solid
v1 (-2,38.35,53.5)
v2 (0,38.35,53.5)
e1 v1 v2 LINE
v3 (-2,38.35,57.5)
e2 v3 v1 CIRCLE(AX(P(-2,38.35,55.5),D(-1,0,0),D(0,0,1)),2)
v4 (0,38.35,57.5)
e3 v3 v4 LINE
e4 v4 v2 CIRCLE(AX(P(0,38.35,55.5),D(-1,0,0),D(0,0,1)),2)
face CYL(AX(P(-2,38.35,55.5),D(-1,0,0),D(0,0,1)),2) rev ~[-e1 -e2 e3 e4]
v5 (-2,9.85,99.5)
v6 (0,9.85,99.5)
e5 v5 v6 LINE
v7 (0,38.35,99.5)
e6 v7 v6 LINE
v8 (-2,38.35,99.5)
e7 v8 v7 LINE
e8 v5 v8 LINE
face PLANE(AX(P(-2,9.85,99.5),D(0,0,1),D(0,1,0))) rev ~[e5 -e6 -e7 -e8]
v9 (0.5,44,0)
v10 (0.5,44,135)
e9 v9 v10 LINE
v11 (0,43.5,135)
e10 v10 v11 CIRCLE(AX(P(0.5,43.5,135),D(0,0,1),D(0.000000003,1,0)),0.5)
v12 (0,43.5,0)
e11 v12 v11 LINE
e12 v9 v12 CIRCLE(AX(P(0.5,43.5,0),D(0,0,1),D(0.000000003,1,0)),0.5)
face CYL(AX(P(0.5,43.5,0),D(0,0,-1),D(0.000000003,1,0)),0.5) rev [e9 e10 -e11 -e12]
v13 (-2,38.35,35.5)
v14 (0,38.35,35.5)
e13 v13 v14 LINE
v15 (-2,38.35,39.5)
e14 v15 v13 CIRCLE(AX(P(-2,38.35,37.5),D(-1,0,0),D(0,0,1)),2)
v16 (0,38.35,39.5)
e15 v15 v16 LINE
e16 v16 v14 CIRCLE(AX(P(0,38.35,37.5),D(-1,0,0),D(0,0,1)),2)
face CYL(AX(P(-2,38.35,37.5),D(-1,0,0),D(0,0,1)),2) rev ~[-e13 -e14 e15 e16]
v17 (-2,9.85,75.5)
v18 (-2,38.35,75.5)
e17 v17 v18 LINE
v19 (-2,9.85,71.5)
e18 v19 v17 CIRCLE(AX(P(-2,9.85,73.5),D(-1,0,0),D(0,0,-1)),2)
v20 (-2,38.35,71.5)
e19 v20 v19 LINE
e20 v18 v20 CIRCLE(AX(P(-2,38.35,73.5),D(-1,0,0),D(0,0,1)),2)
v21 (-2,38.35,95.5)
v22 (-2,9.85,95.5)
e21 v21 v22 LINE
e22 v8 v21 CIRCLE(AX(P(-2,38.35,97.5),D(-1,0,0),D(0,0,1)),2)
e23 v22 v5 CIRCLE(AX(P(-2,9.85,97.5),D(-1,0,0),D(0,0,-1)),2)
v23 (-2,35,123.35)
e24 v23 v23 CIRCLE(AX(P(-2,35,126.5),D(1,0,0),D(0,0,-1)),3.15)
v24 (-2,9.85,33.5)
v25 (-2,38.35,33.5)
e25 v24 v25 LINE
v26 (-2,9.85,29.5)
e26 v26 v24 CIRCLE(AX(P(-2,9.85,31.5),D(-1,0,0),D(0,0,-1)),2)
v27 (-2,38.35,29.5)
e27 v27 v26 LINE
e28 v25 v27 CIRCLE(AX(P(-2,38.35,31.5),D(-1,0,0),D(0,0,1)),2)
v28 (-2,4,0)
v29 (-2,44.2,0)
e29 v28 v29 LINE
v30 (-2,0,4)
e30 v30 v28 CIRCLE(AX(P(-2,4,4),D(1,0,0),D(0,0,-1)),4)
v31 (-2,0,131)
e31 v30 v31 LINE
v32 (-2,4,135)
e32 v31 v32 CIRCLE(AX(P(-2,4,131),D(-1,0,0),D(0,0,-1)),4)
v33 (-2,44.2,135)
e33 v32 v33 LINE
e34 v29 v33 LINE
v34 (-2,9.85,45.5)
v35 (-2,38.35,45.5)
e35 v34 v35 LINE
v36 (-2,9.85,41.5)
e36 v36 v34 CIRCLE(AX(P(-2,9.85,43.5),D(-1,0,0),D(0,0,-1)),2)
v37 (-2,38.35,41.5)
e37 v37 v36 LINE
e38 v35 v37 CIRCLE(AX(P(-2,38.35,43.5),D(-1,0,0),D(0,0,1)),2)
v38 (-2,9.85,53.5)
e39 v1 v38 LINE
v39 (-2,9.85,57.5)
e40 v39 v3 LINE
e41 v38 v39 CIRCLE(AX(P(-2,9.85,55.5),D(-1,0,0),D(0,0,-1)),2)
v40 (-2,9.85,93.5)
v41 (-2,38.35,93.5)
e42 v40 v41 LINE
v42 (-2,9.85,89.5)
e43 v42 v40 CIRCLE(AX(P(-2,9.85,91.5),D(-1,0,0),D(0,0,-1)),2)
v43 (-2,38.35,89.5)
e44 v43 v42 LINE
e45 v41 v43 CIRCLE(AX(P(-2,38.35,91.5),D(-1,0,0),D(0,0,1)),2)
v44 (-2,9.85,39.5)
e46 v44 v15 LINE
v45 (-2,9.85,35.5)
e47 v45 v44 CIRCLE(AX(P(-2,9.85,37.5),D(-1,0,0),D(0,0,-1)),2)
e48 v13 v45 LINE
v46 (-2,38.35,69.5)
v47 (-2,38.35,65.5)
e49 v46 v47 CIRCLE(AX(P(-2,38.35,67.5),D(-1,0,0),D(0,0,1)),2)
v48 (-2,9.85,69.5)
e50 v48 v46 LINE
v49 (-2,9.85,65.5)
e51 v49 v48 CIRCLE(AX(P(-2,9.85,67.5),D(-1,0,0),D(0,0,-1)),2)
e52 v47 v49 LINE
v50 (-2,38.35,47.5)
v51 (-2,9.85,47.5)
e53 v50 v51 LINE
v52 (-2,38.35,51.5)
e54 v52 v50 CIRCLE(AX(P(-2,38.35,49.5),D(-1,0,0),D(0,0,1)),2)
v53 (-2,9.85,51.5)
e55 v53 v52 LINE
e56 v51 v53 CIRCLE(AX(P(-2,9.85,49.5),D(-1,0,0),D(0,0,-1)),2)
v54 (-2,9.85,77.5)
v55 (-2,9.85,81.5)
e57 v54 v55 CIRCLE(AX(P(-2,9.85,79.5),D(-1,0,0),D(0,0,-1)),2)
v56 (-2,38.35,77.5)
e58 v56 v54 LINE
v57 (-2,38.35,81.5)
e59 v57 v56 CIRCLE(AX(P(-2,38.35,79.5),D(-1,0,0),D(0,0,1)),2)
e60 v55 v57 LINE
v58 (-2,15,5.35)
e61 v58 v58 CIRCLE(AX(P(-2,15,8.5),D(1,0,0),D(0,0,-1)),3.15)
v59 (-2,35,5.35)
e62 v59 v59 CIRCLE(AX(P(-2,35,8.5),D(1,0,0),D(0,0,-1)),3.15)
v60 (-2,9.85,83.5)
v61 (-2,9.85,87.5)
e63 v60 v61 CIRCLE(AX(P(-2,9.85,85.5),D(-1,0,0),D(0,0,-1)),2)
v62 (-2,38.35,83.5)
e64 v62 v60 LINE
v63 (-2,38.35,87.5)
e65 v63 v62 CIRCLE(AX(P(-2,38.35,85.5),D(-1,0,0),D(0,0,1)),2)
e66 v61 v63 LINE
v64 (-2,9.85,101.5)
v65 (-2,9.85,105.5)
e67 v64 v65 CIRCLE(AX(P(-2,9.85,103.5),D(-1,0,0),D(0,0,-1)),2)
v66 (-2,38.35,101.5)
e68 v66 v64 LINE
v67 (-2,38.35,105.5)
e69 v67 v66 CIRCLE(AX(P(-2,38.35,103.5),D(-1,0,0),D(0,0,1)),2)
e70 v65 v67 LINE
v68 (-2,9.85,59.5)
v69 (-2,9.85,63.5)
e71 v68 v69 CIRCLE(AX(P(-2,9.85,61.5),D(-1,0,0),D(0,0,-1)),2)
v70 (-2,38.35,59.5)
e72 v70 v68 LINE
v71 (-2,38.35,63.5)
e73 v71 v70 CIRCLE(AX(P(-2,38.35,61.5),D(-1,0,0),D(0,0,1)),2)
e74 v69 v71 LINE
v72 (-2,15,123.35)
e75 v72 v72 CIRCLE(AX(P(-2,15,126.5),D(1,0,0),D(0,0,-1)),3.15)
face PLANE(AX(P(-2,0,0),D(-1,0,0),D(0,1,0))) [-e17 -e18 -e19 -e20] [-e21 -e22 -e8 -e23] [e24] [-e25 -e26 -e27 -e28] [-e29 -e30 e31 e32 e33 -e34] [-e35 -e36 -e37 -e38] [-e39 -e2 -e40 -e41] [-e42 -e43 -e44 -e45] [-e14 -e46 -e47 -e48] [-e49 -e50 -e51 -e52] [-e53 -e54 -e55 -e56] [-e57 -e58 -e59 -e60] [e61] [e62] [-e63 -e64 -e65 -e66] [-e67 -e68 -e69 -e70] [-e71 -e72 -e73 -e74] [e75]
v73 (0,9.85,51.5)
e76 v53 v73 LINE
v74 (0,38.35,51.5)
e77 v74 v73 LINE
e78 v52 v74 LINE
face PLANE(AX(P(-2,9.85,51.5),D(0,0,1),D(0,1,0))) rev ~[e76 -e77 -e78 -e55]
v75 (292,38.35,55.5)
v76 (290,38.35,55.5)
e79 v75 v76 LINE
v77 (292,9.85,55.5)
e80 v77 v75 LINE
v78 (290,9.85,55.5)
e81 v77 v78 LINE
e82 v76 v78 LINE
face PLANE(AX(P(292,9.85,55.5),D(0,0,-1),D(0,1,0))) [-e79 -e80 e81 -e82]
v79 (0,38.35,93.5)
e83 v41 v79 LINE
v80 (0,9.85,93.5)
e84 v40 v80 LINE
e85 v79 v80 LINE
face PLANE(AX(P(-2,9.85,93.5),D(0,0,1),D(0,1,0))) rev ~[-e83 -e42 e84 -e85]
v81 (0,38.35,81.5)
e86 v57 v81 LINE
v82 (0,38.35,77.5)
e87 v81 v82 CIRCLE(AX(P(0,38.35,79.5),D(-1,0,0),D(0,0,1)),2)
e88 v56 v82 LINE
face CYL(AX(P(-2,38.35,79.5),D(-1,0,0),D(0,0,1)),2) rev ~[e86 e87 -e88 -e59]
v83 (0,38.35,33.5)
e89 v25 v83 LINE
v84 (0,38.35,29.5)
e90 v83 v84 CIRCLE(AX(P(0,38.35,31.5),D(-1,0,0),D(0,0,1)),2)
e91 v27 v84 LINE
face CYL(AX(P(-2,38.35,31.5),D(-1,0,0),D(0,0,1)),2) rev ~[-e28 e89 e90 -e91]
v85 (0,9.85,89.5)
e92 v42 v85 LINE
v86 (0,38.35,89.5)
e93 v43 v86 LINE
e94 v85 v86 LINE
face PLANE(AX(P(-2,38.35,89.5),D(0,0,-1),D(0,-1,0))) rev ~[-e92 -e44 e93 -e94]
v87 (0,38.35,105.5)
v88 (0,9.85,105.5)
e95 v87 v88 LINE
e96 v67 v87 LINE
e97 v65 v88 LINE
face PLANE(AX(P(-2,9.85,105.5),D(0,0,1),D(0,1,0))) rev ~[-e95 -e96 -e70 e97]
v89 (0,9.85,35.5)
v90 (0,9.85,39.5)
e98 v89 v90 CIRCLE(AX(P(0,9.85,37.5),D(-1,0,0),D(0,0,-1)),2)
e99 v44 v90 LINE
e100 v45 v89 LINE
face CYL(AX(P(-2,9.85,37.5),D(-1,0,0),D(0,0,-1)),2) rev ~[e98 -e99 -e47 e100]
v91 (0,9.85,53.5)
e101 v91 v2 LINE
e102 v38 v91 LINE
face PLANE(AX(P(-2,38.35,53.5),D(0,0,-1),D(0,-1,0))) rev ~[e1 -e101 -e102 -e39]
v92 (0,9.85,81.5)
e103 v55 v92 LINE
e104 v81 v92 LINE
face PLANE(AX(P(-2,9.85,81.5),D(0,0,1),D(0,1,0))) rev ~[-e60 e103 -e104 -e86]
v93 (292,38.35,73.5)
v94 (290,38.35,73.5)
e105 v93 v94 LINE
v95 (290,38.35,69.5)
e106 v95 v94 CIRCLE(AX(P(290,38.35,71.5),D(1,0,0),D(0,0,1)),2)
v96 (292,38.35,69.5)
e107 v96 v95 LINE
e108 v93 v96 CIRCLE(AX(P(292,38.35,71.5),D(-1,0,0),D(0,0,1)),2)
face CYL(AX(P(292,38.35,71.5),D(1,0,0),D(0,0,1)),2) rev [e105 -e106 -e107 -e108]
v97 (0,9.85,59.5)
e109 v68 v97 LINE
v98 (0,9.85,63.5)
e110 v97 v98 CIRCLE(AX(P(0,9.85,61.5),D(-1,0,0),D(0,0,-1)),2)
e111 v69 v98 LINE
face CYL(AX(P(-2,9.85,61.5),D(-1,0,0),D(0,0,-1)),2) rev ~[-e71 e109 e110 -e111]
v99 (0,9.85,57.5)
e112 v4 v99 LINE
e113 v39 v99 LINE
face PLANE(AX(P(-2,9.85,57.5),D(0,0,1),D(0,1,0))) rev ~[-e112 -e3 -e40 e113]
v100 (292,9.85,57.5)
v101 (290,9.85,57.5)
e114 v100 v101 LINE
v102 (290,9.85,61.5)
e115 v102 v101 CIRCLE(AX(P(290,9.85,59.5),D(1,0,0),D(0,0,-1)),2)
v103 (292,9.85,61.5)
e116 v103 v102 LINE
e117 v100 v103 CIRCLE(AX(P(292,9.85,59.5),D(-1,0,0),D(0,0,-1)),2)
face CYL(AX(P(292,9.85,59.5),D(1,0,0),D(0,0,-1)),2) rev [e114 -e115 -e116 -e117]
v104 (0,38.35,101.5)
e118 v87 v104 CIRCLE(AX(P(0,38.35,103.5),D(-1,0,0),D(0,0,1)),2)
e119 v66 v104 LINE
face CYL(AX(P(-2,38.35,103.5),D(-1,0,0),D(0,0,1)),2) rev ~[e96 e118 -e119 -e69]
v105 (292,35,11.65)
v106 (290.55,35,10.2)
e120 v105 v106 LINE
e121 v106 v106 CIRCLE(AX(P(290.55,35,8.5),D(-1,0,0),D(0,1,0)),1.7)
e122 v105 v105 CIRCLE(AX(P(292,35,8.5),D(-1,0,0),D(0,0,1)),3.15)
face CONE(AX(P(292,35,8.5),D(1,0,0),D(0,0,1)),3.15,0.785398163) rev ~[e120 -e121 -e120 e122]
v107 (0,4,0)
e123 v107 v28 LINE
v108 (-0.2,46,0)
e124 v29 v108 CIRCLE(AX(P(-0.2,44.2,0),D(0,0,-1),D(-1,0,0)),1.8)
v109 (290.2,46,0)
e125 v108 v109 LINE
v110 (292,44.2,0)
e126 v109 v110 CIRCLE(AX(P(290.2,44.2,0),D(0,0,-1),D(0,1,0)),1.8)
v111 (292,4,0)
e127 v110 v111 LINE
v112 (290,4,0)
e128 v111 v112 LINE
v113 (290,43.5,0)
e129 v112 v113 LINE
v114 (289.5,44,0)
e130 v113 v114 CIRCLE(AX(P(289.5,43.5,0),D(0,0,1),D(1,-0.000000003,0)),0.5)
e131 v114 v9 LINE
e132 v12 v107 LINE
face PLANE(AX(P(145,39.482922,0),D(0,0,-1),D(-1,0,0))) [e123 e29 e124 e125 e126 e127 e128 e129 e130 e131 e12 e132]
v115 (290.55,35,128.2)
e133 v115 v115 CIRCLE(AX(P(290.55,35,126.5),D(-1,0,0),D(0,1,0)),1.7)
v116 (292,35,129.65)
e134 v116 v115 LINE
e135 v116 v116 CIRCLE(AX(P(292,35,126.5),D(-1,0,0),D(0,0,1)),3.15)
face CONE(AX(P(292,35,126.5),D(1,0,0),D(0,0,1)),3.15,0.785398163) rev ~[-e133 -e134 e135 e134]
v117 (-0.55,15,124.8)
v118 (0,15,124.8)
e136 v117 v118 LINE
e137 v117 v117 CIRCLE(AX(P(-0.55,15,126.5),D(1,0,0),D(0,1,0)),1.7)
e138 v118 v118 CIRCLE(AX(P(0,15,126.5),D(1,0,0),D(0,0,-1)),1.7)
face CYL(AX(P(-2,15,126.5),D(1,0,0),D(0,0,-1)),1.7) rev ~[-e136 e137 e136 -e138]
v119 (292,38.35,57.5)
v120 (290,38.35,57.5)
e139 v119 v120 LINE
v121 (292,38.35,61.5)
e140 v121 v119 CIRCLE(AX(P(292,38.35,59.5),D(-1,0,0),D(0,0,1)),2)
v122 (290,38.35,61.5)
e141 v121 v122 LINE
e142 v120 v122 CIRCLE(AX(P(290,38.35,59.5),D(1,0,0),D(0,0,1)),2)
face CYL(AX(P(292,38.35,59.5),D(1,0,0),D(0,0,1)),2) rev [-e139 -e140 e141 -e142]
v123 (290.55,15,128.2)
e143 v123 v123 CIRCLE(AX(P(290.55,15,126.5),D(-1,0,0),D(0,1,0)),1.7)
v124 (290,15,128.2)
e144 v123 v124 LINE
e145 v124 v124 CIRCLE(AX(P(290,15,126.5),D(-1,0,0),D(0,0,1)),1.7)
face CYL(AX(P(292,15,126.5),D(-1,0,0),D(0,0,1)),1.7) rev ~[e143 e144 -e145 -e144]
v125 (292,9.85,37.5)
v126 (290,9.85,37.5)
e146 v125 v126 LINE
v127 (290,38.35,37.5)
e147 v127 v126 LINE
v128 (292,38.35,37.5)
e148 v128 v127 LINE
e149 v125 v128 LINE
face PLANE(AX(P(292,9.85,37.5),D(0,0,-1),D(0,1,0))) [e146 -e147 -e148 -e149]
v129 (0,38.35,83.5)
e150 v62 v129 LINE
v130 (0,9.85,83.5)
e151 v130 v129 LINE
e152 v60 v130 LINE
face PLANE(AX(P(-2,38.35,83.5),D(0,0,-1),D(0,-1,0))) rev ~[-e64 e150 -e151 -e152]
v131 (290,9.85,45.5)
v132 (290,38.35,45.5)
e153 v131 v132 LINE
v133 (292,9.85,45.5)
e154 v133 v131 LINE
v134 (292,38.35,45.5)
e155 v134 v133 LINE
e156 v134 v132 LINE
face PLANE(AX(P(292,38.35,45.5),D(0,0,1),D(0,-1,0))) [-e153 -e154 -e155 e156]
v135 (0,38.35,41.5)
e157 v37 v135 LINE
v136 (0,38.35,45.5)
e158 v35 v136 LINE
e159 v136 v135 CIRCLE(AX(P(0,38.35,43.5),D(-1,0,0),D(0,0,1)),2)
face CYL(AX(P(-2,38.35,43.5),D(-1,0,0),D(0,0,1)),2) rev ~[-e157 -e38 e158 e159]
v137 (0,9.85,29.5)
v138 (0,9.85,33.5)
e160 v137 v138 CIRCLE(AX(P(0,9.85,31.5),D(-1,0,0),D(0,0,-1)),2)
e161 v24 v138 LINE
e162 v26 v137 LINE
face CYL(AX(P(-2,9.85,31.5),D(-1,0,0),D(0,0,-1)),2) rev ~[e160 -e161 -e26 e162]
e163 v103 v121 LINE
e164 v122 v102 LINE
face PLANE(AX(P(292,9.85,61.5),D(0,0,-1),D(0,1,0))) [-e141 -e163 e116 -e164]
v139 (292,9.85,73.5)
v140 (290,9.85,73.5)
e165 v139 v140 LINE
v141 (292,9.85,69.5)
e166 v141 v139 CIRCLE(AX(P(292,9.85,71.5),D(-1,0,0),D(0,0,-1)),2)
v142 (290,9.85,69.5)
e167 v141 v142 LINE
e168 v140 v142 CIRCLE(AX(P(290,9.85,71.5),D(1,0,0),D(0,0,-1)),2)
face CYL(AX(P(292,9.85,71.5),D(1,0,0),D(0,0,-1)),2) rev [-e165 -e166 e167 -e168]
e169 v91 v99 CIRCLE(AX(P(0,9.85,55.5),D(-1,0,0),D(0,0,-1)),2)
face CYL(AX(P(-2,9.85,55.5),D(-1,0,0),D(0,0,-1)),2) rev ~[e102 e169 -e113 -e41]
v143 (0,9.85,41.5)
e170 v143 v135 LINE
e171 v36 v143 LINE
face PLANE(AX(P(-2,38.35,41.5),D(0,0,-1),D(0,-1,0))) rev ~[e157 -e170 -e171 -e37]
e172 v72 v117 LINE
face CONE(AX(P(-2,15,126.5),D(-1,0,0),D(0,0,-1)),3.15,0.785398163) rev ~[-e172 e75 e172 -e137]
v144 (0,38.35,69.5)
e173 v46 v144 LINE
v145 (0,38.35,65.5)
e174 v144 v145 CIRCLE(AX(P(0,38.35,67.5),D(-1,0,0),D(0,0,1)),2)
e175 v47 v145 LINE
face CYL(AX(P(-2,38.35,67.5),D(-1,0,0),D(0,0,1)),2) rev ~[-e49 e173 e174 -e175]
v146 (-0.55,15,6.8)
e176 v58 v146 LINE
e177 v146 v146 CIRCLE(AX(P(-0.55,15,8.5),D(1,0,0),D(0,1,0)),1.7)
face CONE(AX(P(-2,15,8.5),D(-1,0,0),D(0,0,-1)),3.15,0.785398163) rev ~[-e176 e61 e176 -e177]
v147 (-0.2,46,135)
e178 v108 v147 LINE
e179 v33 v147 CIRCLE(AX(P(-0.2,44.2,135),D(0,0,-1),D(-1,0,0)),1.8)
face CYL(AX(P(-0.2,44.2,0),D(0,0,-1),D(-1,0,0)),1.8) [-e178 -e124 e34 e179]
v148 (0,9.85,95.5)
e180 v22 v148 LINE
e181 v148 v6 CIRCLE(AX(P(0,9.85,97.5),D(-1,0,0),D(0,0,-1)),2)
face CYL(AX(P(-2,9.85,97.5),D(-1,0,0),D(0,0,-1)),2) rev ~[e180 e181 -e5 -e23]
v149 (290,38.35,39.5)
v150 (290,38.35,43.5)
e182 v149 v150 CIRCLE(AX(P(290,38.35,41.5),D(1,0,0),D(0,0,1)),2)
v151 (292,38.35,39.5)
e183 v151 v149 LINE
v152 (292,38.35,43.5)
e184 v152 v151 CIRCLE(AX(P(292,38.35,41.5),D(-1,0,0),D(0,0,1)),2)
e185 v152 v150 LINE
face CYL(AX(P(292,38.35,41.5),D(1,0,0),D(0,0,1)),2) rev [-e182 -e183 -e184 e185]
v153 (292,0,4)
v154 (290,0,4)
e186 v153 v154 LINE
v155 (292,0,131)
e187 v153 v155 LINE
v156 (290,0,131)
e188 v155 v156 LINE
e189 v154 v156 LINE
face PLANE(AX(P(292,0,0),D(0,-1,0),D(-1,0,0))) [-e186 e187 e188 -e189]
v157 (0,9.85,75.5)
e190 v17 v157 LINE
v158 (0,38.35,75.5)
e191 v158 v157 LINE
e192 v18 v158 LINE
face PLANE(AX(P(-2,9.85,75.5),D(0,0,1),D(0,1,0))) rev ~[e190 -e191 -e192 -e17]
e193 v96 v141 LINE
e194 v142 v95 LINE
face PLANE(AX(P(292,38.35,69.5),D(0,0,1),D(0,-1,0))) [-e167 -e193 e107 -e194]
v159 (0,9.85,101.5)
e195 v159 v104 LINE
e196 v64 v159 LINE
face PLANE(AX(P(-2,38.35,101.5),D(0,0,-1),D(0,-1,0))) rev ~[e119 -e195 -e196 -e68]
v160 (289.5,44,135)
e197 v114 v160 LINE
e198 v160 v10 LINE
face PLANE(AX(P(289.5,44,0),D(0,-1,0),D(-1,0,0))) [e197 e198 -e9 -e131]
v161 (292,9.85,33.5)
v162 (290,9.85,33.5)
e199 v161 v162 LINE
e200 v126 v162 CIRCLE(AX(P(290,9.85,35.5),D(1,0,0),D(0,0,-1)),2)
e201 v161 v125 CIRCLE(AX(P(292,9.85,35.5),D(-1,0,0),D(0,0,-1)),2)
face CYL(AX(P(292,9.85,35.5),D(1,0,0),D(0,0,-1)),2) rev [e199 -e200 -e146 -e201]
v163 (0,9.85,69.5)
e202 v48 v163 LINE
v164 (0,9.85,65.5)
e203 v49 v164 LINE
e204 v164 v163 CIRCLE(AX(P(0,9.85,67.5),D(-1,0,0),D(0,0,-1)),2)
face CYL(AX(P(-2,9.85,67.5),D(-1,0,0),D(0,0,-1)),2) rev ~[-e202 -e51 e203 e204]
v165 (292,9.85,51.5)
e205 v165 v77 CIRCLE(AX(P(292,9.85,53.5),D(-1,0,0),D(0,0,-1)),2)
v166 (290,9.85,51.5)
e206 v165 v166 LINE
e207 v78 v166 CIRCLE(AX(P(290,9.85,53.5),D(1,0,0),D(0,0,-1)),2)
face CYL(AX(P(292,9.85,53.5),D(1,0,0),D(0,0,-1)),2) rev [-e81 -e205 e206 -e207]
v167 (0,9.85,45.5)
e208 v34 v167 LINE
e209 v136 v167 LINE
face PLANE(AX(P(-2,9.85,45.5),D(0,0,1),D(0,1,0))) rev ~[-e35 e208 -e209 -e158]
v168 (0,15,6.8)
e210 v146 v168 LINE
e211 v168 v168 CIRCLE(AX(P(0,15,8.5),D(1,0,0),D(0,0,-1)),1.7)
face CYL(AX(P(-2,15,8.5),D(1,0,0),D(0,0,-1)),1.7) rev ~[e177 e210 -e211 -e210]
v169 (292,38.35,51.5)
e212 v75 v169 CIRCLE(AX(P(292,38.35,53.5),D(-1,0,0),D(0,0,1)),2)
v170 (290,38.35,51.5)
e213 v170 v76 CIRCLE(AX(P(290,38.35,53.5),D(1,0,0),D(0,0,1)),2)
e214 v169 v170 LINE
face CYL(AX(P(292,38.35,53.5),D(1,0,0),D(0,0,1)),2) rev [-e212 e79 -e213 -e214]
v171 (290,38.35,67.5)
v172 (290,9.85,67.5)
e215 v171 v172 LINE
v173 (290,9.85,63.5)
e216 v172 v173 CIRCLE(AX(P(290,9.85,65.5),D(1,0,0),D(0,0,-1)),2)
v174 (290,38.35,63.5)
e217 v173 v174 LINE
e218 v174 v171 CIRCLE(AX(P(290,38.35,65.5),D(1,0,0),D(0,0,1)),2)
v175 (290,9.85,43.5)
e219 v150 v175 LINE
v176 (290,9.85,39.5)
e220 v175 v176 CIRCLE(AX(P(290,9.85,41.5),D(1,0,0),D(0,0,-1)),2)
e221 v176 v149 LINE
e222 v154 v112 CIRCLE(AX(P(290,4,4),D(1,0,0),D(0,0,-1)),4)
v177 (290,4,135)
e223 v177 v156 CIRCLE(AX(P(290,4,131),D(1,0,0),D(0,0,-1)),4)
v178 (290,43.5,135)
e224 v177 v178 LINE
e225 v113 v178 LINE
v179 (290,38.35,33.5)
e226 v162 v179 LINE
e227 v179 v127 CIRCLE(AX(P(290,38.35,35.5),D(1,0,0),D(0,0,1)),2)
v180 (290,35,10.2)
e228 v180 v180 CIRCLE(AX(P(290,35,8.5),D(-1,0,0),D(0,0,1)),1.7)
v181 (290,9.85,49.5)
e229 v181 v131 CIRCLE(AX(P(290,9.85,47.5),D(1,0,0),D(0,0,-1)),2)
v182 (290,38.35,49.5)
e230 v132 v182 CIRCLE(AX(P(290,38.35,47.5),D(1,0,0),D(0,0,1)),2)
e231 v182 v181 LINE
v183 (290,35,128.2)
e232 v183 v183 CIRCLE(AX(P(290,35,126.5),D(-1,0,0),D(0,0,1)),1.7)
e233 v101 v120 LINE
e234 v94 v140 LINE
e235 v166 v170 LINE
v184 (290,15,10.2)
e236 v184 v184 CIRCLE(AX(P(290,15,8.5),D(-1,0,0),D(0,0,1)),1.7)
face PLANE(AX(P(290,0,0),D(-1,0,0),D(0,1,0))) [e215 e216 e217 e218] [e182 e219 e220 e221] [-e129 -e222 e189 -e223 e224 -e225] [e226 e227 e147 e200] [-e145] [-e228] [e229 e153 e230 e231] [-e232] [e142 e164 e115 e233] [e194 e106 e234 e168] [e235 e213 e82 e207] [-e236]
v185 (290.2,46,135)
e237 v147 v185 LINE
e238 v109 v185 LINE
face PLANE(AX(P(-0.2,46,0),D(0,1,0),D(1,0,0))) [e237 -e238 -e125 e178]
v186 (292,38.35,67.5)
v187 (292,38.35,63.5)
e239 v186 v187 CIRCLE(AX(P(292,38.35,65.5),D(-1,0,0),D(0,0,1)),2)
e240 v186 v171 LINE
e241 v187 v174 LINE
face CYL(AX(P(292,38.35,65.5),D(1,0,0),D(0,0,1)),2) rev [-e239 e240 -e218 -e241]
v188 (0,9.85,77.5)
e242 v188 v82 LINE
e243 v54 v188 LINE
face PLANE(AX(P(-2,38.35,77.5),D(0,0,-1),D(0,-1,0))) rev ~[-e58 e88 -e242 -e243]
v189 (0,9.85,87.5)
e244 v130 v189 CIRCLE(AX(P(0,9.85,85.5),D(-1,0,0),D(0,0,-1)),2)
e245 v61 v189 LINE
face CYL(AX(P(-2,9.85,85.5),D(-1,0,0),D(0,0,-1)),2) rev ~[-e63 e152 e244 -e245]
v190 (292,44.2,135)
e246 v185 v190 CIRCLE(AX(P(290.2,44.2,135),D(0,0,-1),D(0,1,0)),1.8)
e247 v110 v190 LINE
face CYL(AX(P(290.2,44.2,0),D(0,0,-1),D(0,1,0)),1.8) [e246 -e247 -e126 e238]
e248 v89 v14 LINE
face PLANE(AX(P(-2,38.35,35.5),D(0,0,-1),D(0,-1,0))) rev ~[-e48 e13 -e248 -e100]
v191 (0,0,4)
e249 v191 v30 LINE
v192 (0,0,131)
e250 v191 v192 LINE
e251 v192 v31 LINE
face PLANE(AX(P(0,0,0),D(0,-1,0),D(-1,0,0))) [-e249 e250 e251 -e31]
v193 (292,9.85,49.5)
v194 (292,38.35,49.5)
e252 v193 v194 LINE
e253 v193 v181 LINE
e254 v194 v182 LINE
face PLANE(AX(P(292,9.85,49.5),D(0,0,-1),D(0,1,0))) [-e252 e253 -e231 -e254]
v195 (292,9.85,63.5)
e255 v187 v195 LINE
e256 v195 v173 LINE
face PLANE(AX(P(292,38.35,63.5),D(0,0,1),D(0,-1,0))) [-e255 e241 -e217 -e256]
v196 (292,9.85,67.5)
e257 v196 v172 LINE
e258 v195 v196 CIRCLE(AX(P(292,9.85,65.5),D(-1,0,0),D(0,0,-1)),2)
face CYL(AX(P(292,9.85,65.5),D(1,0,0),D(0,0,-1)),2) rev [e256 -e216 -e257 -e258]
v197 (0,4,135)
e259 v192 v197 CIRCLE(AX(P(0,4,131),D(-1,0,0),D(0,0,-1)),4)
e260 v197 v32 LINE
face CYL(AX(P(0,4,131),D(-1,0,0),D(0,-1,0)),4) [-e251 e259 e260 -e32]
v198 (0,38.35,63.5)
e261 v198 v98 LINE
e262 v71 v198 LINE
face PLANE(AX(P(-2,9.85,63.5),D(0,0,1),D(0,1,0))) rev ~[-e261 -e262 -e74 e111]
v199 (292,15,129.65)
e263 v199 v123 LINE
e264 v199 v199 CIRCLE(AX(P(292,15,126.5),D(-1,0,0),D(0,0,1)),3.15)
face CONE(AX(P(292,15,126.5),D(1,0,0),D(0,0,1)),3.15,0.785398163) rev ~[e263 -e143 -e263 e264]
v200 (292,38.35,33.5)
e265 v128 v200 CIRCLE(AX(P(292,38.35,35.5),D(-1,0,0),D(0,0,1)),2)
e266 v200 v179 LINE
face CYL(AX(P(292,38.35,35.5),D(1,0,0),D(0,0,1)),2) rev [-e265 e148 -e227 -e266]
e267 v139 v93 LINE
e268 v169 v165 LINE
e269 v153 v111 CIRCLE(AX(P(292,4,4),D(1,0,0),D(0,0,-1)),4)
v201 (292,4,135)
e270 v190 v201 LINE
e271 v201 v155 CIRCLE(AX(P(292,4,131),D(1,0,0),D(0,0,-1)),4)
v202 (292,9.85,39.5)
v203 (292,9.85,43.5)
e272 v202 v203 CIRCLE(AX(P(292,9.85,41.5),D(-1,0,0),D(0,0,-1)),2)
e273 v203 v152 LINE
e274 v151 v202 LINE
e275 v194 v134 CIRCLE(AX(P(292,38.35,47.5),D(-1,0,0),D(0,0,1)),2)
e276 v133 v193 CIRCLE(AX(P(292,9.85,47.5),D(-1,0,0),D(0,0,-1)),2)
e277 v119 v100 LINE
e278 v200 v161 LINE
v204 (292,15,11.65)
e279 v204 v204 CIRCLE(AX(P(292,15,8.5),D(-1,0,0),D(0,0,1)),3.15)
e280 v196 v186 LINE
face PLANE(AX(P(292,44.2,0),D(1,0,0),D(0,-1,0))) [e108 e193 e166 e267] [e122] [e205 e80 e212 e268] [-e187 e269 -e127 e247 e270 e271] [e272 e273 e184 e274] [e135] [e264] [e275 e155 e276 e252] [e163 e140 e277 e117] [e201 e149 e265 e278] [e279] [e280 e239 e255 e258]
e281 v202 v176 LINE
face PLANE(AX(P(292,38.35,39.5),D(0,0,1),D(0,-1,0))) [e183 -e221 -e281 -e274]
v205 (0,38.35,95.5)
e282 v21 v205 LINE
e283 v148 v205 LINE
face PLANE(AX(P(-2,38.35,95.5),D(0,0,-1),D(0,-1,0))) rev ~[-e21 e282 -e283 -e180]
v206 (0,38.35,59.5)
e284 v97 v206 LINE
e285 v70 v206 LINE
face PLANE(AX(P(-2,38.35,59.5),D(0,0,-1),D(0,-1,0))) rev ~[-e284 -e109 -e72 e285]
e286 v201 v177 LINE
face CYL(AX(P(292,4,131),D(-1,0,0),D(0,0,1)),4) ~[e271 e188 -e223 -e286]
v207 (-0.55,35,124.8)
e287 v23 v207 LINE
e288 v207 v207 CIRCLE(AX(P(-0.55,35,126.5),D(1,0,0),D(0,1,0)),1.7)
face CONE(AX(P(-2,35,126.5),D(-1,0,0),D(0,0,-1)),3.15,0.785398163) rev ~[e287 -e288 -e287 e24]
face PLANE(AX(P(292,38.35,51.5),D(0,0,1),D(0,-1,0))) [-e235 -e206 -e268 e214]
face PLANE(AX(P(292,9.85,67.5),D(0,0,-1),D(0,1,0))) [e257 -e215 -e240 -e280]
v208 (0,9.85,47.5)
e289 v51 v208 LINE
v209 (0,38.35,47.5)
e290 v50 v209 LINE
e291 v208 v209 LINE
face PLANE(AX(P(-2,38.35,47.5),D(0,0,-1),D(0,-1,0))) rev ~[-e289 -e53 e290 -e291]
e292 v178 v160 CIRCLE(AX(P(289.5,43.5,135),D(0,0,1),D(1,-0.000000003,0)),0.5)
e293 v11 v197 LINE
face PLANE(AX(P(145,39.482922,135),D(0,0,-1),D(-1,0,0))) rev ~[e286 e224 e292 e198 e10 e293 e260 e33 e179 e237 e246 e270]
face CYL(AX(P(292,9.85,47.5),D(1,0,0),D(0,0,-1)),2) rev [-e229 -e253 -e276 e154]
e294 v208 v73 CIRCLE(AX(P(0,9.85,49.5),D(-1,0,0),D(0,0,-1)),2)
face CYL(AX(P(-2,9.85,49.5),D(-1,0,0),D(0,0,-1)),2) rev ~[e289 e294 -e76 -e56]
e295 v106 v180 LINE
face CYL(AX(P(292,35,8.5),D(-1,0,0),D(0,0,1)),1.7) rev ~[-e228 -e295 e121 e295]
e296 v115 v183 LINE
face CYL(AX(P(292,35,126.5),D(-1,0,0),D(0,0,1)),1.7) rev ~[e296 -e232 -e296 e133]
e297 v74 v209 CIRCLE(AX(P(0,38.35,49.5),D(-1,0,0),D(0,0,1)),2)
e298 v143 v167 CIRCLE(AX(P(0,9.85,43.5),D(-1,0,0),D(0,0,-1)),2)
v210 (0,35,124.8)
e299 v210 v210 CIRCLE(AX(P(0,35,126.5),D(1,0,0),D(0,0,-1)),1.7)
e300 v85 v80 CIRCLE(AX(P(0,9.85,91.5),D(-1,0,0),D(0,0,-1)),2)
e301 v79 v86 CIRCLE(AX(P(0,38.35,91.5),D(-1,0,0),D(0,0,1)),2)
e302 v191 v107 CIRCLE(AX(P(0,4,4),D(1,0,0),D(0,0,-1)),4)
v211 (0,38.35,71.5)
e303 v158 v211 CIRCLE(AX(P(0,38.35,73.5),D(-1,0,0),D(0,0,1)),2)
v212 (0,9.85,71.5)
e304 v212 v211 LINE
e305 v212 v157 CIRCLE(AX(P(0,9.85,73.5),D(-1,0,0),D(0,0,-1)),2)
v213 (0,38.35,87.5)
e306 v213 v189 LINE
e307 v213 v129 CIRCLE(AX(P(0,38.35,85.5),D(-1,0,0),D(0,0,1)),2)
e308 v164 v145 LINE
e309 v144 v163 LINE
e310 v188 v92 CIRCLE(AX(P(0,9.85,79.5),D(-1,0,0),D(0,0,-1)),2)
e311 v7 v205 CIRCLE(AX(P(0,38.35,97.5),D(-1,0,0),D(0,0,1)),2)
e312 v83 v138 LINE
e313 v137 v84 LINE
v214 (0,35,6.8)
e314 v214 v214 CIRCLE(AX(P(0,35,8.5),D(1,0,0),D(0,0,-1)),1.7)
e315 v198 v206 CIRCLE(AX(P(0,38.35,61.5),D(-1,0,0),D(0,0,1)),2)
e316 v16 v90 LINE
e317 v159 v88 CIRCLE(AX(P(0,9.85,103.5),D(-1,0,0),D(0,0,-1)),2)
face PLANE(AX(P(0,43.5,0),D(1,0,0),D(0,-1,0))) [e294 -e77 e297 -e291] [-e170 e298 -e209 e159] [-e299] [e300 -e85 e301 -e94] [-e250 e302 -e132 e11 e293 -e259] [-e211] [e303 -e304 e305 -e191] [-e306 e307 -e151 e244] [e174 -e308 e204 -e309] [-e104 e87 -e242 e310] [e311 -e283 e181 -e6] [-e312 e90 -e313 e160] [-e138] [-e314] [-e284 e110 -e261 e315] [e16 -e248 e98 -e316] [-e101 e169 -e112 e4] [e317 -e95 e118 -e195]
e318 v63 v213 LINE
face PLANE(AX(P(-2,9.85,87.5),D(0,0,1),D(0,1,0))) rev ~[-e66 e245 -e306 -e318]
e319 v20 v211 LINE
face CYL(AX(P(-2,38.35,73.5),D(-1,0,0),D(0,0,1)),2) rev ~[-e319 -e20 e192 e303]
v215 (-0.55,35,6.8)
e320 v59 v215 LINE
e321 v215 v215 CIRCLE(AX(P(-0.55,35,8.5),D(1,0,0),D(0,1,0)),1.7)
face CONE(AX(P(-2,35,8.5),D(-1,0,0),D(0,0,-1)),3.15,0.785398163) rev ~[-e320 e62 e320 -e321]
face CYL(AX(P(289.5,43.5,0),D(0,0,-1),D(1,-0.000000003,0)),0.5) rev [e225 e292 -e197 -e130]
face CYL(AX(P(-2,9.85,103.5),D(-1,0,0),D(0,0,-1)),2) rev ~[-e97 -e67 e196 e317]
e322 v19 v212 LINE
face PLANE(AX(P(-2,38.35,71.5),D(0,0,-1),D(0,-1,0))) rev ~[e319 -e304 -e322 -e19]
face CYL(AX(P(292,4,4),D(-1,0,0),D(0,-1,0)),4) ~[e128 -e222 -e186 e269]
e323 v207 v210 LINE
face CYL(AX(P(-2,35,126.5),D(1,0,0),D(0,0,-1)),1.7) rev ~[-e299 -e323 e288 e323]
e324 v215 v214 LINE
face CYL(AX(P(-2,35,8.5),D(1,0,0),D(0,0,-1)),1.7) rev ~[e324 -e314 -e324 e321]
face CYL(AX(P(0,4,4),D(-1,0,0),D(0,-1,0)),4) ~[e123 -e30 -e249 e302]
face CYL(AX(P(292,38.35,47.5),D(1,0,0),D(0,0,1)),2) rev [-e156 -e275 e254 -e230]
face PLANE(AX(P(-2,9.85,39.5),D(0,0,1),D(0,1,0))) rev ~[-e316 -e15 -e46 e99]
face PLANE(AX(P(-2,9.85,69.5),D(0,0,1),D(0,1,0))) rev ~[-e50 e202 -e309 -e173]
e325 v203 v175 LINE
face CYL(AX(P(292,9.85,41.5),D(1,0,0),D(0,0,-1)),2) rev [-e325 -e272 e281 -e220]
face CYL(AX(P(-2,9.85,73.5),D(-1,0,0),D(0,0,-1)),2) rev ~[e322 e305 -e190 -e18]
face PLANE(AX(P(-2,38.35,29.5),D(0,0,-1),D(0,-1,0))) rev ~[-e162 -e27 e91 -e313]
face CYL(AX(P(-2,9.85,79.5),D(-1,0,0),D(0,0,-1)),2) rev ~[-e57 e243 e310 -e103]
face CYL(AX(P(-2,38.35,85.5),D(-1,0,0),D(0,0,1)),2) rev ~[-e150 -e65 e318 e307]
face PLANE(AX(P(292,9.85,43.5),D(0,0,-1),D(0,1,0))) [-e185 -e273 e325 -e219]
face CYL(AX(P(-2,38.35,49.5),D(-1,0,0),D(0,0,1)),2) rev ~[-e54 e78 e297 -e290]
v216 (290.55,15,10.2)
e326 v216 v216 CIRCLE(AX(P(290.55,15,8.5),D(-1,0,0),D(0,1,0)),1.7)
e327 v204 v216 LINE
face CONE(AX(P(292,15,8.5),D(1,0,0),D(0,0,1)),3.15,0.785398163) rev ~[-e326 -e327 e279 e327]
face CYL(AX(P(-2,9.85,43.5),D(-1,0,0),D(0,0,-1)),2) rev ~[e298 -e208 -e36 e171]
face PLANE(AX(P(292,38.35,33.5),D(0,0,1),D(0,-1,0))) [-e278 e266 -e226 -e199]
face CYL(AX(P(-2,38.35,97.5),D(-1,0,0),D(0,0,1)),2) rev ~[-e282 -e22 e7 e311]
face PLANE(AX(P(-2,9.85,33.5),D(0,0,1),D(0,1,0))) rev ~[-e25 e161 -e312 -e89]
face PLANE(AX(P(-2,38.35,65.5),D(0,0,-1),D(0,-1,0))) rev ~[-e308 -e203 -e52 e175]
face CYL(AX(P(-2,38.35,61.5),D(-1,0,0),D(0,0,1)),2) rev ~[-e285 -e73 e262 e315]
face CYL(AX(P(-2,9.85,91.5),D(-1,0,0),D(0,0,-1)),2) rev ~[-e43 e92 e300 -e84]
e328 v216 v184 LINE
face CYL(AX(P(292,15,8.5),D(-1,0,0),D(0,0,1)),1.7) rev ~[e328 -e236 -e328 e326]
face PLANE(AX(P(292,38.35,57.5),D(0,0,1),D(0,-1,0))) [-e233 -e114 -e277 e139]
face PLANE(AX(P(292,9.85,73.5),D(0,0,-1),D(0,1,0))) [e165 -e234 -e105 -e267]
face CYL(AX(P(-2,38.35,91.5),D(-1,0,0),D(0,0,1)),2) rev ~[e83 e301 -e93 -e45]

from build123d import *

# Parameters (mm, degrees)
BOSS_EXTRUDE1_DEPTH                             = 135
CSK_FOR_M3_FLAT_HEAD_MACHINE_SCREW1_D           = 3.4
CSK_FOR_M3_FLAT_HEAD_MACHINE_SCREW1_DEPTH       = 5
CSK_FOR_M3_FLAT_HEAD_MACHINE_SCREW1_CSINK_D     = 6.3
CSK_FOR_M3_FLAT_HEAD_MACHINE_SCREW1_CSINK_ANGLE = 90
CSK_FOR_M3_FLAT_HEAD_MACHINE_SCREW1_TIP         = 1.021463052
CSK_FOR_M3_FLAT_HEAD_MACHINE_SCREW2_D           = 3.4
CSK_FOR_M3_FLAT_HEAD_MACHINE_SCREW2_DEPTH       = 5
CSK_FOR_M3_FLAT_HEAD_MACHINE_SCREW2_CSINK_D     = 6.3
CSK_FOR_M3_FLAT_HEAD_MACHINE_SCREW2_CSINK_ANGLE = 90
CSK_FOR_M3_FLAT_HEAD_MACHINE_SCREW2_TIP         = 1.021463052
FILLET1_R                                       = 4
CUT_EXTRUDE1_DEPTH                              = 10
LPATTERN1_COUNT                                 = 13
LPATTERN1_PITCH                                 = 6
CUT_EXTRUDE2_DEPTH                              = 10
LPATTERN2_COUNT                                 = 7
LPATTERN2_PITCH                                 = 6


with BuildPart() as part:
    # Sketch1 → Boss-Extrude1 (new body)
    with BuildSketch(Plane.XY):
        with BuildLine():
            Line((0, 0), (-2, 0))
            Line((-2, 0), (-2, 44.2))
            ThreePointArc((-2, 44.2), (-1.472792206, 45.472792206), (-0.2, 46))
            Line((-0.2, 46), (290.2, 46))
            ThreePointArc((290.2, 46), (291.472792206, 45.472792206), (292, 44.2))
            Line((292, 44.2), (292, 0))
            Line((292, 0), (290, 0))
            Line((290, 0), (290, 43.5))
            ThreePointArc((290, 43.5), (289.853553391, 43.853553391), (289.5, 44))
            Line((289.5, 44), (0.5, 44))
            ThreePointArc((0.5, 44), (0.146446609, 43.853553391), (0, 43.5))
            Line((0, 43.5), (0, 0))
        make_face()
    extrude(amount=BOSS_EXTRUDE1_DEPTH)

    # CSK for M3 Flat Head Machine Screw1
    with Locations(Plane.ZY.offset(2)):
        with Locations((8.5, 35), (8.5, 15), (126.5, 35), (126.5, 15)):
            CounterSinkHole(CSK_FOR_M3_FLAT_HEAD_MACHINE_SCREW1_D / 2, CSK_FOR_M3_FLAT_HEAD_MACHINE_SCREW1_CSINK_D / 2, depth=CSK_FOR_M3_FLAT_HEAD_MACHINE_SCREW1_DEPTH, counter_sink_angle=CSK_FOR_M3_FLAT_HEAD_MACHINE_SCREW1_CSINK_ANGLE)
            with Locations((0, 0, -(CSK_FOR_M3_FLAT_HEAD_MACHINE_SCREW1_DEPTH + CSK_FOR_M3_FLAT_HEAD_MACHINE_SCREW1_TIP / 2))):  # 118° drill point
                Cone(0, CSK_FOR_M3_FLAT_HEAD_MACHINE_SCREW1_D / 2, CSK_FOR_M3_FLAT_HEAD_MACHINE_SCREW1_TIP, mode=Mode.SUBTRACT)

    # CSK for M3 Flat Head Machine Screw2
    with Locations(Plane(origin=(292, 0, 0), x_dir=(0, 0, -1), z_dir=(1, 0, 0))):
        with Locations((-126.5, 35), (-126.5, 15), (-8.5, 35), (-8.5, 15)):
            CounterSinkHole(CSK_FOR_M3_FLAT_HEAD_MACHINE_SCREW2_D / 2, CSK_FOR_M3_FLAT_HEAD_MACHINE_SCREW2_CSINK_D / 2, depth=CSK_FOR_M3_FLAT_HEAD_MACHINE_SCREW2_DEPTH, counter_sink_angle=CSK_FOR_M3_FLAT_HEAD_MACHINE_SCREW2_CSINK_ANGLE)
            with Locations((0, 0, -(CSK_FOR_M3_FLAT_HEAD_MACHINE_SCREW2_DEPTH + CSK_FOR_M3_FLAT_HEAD_MACHINE_SCREW2_TIP / 2))):  # 118° drill point
                Cone(0, CSK_FOR_M3_FLAT_HEAD_MACHINE_SCREW2_D / 2, CSK_FOR_M3_FLAT_HEAD_MACHINE_SCREW2_TIP, mode=Mode.SUBTRACT)

    # Fillet1
    fillet1_edges = [part.edges().sort_by_distance(p)[0] for p in [
        (-1, 0, 0),
        (291, 0, 0),
        (291, 0, 135),
        (-1, 0, 135),
    ]]
    fillet(fillet1_edges, radius=FILLET1_R)

    # Sketch6 → Cut-Extrude1 (cut)
    with BuildSketch(Plane(origin=(-2, 0, 0), x_dir=(0, 0, -1), z_dir=(1, 0, 0))):
        with BuildLine():
            Line((-101.5, 38.35), (-101.5, 9.85))
            ThreePointArc((-101.5, 9.85), (-103.5, 7.85), (-105.5, 9.85))
            Line((-105.5, 9.85), (-105.5, 38.35))
            ThreePointArc((-105.5, 38.35), (-103.5, 40.35), (-101.5, 38.35))
        make_face()
    cut_extrude1 = extrude(amount=CUT_EXTRUDE1_DEPTH, mode=Mode.SUBTRACT)

    # LPattern1: Cut-Extrude1 ×13
    with Locations(*[(0, 0, -i * LPATTERN1_PITCH) for i in range(1, LPATTERN1_COUNT)]):
        add(cut_extrude1, mode=Mode.SUBTRACT)

    # Sketch7 → Cut-Extrude2 (cut)
    with BuildSketch(Plane(origin=(292, 0, 0), x_dir=(0, 0, -1), z_dir=(1, 0, 0))):
        with BuildLine():
            Line((-33.5, 38.35), (-33.5, 9.85))
            ThreePointArc((-33.5, 9.85), (-35.5, 7.85), (-37.5, 9.85))
            Line((-37.5, 9.85), (-37.5, 38.35))
            ThreePointArc((-37.5, 38.35), (-35.5, 40.35), (-33.5, 38.35))
        make_face()
    cut_extrude2 = extrude(amount=-CUT_EXTRUDE2_DEPTH, mode=Mode.SUBTRACT)

    # LPattern2: Cut-Extrude2 ×7
    with Locations(*[(0, 0, i * LPATTERN2_PITCH) for i in range(1, LPATTERN2_COUNT)]):
        add(cut_extrude2, mode=Mode.SUBTRACT)


solid = part.part
